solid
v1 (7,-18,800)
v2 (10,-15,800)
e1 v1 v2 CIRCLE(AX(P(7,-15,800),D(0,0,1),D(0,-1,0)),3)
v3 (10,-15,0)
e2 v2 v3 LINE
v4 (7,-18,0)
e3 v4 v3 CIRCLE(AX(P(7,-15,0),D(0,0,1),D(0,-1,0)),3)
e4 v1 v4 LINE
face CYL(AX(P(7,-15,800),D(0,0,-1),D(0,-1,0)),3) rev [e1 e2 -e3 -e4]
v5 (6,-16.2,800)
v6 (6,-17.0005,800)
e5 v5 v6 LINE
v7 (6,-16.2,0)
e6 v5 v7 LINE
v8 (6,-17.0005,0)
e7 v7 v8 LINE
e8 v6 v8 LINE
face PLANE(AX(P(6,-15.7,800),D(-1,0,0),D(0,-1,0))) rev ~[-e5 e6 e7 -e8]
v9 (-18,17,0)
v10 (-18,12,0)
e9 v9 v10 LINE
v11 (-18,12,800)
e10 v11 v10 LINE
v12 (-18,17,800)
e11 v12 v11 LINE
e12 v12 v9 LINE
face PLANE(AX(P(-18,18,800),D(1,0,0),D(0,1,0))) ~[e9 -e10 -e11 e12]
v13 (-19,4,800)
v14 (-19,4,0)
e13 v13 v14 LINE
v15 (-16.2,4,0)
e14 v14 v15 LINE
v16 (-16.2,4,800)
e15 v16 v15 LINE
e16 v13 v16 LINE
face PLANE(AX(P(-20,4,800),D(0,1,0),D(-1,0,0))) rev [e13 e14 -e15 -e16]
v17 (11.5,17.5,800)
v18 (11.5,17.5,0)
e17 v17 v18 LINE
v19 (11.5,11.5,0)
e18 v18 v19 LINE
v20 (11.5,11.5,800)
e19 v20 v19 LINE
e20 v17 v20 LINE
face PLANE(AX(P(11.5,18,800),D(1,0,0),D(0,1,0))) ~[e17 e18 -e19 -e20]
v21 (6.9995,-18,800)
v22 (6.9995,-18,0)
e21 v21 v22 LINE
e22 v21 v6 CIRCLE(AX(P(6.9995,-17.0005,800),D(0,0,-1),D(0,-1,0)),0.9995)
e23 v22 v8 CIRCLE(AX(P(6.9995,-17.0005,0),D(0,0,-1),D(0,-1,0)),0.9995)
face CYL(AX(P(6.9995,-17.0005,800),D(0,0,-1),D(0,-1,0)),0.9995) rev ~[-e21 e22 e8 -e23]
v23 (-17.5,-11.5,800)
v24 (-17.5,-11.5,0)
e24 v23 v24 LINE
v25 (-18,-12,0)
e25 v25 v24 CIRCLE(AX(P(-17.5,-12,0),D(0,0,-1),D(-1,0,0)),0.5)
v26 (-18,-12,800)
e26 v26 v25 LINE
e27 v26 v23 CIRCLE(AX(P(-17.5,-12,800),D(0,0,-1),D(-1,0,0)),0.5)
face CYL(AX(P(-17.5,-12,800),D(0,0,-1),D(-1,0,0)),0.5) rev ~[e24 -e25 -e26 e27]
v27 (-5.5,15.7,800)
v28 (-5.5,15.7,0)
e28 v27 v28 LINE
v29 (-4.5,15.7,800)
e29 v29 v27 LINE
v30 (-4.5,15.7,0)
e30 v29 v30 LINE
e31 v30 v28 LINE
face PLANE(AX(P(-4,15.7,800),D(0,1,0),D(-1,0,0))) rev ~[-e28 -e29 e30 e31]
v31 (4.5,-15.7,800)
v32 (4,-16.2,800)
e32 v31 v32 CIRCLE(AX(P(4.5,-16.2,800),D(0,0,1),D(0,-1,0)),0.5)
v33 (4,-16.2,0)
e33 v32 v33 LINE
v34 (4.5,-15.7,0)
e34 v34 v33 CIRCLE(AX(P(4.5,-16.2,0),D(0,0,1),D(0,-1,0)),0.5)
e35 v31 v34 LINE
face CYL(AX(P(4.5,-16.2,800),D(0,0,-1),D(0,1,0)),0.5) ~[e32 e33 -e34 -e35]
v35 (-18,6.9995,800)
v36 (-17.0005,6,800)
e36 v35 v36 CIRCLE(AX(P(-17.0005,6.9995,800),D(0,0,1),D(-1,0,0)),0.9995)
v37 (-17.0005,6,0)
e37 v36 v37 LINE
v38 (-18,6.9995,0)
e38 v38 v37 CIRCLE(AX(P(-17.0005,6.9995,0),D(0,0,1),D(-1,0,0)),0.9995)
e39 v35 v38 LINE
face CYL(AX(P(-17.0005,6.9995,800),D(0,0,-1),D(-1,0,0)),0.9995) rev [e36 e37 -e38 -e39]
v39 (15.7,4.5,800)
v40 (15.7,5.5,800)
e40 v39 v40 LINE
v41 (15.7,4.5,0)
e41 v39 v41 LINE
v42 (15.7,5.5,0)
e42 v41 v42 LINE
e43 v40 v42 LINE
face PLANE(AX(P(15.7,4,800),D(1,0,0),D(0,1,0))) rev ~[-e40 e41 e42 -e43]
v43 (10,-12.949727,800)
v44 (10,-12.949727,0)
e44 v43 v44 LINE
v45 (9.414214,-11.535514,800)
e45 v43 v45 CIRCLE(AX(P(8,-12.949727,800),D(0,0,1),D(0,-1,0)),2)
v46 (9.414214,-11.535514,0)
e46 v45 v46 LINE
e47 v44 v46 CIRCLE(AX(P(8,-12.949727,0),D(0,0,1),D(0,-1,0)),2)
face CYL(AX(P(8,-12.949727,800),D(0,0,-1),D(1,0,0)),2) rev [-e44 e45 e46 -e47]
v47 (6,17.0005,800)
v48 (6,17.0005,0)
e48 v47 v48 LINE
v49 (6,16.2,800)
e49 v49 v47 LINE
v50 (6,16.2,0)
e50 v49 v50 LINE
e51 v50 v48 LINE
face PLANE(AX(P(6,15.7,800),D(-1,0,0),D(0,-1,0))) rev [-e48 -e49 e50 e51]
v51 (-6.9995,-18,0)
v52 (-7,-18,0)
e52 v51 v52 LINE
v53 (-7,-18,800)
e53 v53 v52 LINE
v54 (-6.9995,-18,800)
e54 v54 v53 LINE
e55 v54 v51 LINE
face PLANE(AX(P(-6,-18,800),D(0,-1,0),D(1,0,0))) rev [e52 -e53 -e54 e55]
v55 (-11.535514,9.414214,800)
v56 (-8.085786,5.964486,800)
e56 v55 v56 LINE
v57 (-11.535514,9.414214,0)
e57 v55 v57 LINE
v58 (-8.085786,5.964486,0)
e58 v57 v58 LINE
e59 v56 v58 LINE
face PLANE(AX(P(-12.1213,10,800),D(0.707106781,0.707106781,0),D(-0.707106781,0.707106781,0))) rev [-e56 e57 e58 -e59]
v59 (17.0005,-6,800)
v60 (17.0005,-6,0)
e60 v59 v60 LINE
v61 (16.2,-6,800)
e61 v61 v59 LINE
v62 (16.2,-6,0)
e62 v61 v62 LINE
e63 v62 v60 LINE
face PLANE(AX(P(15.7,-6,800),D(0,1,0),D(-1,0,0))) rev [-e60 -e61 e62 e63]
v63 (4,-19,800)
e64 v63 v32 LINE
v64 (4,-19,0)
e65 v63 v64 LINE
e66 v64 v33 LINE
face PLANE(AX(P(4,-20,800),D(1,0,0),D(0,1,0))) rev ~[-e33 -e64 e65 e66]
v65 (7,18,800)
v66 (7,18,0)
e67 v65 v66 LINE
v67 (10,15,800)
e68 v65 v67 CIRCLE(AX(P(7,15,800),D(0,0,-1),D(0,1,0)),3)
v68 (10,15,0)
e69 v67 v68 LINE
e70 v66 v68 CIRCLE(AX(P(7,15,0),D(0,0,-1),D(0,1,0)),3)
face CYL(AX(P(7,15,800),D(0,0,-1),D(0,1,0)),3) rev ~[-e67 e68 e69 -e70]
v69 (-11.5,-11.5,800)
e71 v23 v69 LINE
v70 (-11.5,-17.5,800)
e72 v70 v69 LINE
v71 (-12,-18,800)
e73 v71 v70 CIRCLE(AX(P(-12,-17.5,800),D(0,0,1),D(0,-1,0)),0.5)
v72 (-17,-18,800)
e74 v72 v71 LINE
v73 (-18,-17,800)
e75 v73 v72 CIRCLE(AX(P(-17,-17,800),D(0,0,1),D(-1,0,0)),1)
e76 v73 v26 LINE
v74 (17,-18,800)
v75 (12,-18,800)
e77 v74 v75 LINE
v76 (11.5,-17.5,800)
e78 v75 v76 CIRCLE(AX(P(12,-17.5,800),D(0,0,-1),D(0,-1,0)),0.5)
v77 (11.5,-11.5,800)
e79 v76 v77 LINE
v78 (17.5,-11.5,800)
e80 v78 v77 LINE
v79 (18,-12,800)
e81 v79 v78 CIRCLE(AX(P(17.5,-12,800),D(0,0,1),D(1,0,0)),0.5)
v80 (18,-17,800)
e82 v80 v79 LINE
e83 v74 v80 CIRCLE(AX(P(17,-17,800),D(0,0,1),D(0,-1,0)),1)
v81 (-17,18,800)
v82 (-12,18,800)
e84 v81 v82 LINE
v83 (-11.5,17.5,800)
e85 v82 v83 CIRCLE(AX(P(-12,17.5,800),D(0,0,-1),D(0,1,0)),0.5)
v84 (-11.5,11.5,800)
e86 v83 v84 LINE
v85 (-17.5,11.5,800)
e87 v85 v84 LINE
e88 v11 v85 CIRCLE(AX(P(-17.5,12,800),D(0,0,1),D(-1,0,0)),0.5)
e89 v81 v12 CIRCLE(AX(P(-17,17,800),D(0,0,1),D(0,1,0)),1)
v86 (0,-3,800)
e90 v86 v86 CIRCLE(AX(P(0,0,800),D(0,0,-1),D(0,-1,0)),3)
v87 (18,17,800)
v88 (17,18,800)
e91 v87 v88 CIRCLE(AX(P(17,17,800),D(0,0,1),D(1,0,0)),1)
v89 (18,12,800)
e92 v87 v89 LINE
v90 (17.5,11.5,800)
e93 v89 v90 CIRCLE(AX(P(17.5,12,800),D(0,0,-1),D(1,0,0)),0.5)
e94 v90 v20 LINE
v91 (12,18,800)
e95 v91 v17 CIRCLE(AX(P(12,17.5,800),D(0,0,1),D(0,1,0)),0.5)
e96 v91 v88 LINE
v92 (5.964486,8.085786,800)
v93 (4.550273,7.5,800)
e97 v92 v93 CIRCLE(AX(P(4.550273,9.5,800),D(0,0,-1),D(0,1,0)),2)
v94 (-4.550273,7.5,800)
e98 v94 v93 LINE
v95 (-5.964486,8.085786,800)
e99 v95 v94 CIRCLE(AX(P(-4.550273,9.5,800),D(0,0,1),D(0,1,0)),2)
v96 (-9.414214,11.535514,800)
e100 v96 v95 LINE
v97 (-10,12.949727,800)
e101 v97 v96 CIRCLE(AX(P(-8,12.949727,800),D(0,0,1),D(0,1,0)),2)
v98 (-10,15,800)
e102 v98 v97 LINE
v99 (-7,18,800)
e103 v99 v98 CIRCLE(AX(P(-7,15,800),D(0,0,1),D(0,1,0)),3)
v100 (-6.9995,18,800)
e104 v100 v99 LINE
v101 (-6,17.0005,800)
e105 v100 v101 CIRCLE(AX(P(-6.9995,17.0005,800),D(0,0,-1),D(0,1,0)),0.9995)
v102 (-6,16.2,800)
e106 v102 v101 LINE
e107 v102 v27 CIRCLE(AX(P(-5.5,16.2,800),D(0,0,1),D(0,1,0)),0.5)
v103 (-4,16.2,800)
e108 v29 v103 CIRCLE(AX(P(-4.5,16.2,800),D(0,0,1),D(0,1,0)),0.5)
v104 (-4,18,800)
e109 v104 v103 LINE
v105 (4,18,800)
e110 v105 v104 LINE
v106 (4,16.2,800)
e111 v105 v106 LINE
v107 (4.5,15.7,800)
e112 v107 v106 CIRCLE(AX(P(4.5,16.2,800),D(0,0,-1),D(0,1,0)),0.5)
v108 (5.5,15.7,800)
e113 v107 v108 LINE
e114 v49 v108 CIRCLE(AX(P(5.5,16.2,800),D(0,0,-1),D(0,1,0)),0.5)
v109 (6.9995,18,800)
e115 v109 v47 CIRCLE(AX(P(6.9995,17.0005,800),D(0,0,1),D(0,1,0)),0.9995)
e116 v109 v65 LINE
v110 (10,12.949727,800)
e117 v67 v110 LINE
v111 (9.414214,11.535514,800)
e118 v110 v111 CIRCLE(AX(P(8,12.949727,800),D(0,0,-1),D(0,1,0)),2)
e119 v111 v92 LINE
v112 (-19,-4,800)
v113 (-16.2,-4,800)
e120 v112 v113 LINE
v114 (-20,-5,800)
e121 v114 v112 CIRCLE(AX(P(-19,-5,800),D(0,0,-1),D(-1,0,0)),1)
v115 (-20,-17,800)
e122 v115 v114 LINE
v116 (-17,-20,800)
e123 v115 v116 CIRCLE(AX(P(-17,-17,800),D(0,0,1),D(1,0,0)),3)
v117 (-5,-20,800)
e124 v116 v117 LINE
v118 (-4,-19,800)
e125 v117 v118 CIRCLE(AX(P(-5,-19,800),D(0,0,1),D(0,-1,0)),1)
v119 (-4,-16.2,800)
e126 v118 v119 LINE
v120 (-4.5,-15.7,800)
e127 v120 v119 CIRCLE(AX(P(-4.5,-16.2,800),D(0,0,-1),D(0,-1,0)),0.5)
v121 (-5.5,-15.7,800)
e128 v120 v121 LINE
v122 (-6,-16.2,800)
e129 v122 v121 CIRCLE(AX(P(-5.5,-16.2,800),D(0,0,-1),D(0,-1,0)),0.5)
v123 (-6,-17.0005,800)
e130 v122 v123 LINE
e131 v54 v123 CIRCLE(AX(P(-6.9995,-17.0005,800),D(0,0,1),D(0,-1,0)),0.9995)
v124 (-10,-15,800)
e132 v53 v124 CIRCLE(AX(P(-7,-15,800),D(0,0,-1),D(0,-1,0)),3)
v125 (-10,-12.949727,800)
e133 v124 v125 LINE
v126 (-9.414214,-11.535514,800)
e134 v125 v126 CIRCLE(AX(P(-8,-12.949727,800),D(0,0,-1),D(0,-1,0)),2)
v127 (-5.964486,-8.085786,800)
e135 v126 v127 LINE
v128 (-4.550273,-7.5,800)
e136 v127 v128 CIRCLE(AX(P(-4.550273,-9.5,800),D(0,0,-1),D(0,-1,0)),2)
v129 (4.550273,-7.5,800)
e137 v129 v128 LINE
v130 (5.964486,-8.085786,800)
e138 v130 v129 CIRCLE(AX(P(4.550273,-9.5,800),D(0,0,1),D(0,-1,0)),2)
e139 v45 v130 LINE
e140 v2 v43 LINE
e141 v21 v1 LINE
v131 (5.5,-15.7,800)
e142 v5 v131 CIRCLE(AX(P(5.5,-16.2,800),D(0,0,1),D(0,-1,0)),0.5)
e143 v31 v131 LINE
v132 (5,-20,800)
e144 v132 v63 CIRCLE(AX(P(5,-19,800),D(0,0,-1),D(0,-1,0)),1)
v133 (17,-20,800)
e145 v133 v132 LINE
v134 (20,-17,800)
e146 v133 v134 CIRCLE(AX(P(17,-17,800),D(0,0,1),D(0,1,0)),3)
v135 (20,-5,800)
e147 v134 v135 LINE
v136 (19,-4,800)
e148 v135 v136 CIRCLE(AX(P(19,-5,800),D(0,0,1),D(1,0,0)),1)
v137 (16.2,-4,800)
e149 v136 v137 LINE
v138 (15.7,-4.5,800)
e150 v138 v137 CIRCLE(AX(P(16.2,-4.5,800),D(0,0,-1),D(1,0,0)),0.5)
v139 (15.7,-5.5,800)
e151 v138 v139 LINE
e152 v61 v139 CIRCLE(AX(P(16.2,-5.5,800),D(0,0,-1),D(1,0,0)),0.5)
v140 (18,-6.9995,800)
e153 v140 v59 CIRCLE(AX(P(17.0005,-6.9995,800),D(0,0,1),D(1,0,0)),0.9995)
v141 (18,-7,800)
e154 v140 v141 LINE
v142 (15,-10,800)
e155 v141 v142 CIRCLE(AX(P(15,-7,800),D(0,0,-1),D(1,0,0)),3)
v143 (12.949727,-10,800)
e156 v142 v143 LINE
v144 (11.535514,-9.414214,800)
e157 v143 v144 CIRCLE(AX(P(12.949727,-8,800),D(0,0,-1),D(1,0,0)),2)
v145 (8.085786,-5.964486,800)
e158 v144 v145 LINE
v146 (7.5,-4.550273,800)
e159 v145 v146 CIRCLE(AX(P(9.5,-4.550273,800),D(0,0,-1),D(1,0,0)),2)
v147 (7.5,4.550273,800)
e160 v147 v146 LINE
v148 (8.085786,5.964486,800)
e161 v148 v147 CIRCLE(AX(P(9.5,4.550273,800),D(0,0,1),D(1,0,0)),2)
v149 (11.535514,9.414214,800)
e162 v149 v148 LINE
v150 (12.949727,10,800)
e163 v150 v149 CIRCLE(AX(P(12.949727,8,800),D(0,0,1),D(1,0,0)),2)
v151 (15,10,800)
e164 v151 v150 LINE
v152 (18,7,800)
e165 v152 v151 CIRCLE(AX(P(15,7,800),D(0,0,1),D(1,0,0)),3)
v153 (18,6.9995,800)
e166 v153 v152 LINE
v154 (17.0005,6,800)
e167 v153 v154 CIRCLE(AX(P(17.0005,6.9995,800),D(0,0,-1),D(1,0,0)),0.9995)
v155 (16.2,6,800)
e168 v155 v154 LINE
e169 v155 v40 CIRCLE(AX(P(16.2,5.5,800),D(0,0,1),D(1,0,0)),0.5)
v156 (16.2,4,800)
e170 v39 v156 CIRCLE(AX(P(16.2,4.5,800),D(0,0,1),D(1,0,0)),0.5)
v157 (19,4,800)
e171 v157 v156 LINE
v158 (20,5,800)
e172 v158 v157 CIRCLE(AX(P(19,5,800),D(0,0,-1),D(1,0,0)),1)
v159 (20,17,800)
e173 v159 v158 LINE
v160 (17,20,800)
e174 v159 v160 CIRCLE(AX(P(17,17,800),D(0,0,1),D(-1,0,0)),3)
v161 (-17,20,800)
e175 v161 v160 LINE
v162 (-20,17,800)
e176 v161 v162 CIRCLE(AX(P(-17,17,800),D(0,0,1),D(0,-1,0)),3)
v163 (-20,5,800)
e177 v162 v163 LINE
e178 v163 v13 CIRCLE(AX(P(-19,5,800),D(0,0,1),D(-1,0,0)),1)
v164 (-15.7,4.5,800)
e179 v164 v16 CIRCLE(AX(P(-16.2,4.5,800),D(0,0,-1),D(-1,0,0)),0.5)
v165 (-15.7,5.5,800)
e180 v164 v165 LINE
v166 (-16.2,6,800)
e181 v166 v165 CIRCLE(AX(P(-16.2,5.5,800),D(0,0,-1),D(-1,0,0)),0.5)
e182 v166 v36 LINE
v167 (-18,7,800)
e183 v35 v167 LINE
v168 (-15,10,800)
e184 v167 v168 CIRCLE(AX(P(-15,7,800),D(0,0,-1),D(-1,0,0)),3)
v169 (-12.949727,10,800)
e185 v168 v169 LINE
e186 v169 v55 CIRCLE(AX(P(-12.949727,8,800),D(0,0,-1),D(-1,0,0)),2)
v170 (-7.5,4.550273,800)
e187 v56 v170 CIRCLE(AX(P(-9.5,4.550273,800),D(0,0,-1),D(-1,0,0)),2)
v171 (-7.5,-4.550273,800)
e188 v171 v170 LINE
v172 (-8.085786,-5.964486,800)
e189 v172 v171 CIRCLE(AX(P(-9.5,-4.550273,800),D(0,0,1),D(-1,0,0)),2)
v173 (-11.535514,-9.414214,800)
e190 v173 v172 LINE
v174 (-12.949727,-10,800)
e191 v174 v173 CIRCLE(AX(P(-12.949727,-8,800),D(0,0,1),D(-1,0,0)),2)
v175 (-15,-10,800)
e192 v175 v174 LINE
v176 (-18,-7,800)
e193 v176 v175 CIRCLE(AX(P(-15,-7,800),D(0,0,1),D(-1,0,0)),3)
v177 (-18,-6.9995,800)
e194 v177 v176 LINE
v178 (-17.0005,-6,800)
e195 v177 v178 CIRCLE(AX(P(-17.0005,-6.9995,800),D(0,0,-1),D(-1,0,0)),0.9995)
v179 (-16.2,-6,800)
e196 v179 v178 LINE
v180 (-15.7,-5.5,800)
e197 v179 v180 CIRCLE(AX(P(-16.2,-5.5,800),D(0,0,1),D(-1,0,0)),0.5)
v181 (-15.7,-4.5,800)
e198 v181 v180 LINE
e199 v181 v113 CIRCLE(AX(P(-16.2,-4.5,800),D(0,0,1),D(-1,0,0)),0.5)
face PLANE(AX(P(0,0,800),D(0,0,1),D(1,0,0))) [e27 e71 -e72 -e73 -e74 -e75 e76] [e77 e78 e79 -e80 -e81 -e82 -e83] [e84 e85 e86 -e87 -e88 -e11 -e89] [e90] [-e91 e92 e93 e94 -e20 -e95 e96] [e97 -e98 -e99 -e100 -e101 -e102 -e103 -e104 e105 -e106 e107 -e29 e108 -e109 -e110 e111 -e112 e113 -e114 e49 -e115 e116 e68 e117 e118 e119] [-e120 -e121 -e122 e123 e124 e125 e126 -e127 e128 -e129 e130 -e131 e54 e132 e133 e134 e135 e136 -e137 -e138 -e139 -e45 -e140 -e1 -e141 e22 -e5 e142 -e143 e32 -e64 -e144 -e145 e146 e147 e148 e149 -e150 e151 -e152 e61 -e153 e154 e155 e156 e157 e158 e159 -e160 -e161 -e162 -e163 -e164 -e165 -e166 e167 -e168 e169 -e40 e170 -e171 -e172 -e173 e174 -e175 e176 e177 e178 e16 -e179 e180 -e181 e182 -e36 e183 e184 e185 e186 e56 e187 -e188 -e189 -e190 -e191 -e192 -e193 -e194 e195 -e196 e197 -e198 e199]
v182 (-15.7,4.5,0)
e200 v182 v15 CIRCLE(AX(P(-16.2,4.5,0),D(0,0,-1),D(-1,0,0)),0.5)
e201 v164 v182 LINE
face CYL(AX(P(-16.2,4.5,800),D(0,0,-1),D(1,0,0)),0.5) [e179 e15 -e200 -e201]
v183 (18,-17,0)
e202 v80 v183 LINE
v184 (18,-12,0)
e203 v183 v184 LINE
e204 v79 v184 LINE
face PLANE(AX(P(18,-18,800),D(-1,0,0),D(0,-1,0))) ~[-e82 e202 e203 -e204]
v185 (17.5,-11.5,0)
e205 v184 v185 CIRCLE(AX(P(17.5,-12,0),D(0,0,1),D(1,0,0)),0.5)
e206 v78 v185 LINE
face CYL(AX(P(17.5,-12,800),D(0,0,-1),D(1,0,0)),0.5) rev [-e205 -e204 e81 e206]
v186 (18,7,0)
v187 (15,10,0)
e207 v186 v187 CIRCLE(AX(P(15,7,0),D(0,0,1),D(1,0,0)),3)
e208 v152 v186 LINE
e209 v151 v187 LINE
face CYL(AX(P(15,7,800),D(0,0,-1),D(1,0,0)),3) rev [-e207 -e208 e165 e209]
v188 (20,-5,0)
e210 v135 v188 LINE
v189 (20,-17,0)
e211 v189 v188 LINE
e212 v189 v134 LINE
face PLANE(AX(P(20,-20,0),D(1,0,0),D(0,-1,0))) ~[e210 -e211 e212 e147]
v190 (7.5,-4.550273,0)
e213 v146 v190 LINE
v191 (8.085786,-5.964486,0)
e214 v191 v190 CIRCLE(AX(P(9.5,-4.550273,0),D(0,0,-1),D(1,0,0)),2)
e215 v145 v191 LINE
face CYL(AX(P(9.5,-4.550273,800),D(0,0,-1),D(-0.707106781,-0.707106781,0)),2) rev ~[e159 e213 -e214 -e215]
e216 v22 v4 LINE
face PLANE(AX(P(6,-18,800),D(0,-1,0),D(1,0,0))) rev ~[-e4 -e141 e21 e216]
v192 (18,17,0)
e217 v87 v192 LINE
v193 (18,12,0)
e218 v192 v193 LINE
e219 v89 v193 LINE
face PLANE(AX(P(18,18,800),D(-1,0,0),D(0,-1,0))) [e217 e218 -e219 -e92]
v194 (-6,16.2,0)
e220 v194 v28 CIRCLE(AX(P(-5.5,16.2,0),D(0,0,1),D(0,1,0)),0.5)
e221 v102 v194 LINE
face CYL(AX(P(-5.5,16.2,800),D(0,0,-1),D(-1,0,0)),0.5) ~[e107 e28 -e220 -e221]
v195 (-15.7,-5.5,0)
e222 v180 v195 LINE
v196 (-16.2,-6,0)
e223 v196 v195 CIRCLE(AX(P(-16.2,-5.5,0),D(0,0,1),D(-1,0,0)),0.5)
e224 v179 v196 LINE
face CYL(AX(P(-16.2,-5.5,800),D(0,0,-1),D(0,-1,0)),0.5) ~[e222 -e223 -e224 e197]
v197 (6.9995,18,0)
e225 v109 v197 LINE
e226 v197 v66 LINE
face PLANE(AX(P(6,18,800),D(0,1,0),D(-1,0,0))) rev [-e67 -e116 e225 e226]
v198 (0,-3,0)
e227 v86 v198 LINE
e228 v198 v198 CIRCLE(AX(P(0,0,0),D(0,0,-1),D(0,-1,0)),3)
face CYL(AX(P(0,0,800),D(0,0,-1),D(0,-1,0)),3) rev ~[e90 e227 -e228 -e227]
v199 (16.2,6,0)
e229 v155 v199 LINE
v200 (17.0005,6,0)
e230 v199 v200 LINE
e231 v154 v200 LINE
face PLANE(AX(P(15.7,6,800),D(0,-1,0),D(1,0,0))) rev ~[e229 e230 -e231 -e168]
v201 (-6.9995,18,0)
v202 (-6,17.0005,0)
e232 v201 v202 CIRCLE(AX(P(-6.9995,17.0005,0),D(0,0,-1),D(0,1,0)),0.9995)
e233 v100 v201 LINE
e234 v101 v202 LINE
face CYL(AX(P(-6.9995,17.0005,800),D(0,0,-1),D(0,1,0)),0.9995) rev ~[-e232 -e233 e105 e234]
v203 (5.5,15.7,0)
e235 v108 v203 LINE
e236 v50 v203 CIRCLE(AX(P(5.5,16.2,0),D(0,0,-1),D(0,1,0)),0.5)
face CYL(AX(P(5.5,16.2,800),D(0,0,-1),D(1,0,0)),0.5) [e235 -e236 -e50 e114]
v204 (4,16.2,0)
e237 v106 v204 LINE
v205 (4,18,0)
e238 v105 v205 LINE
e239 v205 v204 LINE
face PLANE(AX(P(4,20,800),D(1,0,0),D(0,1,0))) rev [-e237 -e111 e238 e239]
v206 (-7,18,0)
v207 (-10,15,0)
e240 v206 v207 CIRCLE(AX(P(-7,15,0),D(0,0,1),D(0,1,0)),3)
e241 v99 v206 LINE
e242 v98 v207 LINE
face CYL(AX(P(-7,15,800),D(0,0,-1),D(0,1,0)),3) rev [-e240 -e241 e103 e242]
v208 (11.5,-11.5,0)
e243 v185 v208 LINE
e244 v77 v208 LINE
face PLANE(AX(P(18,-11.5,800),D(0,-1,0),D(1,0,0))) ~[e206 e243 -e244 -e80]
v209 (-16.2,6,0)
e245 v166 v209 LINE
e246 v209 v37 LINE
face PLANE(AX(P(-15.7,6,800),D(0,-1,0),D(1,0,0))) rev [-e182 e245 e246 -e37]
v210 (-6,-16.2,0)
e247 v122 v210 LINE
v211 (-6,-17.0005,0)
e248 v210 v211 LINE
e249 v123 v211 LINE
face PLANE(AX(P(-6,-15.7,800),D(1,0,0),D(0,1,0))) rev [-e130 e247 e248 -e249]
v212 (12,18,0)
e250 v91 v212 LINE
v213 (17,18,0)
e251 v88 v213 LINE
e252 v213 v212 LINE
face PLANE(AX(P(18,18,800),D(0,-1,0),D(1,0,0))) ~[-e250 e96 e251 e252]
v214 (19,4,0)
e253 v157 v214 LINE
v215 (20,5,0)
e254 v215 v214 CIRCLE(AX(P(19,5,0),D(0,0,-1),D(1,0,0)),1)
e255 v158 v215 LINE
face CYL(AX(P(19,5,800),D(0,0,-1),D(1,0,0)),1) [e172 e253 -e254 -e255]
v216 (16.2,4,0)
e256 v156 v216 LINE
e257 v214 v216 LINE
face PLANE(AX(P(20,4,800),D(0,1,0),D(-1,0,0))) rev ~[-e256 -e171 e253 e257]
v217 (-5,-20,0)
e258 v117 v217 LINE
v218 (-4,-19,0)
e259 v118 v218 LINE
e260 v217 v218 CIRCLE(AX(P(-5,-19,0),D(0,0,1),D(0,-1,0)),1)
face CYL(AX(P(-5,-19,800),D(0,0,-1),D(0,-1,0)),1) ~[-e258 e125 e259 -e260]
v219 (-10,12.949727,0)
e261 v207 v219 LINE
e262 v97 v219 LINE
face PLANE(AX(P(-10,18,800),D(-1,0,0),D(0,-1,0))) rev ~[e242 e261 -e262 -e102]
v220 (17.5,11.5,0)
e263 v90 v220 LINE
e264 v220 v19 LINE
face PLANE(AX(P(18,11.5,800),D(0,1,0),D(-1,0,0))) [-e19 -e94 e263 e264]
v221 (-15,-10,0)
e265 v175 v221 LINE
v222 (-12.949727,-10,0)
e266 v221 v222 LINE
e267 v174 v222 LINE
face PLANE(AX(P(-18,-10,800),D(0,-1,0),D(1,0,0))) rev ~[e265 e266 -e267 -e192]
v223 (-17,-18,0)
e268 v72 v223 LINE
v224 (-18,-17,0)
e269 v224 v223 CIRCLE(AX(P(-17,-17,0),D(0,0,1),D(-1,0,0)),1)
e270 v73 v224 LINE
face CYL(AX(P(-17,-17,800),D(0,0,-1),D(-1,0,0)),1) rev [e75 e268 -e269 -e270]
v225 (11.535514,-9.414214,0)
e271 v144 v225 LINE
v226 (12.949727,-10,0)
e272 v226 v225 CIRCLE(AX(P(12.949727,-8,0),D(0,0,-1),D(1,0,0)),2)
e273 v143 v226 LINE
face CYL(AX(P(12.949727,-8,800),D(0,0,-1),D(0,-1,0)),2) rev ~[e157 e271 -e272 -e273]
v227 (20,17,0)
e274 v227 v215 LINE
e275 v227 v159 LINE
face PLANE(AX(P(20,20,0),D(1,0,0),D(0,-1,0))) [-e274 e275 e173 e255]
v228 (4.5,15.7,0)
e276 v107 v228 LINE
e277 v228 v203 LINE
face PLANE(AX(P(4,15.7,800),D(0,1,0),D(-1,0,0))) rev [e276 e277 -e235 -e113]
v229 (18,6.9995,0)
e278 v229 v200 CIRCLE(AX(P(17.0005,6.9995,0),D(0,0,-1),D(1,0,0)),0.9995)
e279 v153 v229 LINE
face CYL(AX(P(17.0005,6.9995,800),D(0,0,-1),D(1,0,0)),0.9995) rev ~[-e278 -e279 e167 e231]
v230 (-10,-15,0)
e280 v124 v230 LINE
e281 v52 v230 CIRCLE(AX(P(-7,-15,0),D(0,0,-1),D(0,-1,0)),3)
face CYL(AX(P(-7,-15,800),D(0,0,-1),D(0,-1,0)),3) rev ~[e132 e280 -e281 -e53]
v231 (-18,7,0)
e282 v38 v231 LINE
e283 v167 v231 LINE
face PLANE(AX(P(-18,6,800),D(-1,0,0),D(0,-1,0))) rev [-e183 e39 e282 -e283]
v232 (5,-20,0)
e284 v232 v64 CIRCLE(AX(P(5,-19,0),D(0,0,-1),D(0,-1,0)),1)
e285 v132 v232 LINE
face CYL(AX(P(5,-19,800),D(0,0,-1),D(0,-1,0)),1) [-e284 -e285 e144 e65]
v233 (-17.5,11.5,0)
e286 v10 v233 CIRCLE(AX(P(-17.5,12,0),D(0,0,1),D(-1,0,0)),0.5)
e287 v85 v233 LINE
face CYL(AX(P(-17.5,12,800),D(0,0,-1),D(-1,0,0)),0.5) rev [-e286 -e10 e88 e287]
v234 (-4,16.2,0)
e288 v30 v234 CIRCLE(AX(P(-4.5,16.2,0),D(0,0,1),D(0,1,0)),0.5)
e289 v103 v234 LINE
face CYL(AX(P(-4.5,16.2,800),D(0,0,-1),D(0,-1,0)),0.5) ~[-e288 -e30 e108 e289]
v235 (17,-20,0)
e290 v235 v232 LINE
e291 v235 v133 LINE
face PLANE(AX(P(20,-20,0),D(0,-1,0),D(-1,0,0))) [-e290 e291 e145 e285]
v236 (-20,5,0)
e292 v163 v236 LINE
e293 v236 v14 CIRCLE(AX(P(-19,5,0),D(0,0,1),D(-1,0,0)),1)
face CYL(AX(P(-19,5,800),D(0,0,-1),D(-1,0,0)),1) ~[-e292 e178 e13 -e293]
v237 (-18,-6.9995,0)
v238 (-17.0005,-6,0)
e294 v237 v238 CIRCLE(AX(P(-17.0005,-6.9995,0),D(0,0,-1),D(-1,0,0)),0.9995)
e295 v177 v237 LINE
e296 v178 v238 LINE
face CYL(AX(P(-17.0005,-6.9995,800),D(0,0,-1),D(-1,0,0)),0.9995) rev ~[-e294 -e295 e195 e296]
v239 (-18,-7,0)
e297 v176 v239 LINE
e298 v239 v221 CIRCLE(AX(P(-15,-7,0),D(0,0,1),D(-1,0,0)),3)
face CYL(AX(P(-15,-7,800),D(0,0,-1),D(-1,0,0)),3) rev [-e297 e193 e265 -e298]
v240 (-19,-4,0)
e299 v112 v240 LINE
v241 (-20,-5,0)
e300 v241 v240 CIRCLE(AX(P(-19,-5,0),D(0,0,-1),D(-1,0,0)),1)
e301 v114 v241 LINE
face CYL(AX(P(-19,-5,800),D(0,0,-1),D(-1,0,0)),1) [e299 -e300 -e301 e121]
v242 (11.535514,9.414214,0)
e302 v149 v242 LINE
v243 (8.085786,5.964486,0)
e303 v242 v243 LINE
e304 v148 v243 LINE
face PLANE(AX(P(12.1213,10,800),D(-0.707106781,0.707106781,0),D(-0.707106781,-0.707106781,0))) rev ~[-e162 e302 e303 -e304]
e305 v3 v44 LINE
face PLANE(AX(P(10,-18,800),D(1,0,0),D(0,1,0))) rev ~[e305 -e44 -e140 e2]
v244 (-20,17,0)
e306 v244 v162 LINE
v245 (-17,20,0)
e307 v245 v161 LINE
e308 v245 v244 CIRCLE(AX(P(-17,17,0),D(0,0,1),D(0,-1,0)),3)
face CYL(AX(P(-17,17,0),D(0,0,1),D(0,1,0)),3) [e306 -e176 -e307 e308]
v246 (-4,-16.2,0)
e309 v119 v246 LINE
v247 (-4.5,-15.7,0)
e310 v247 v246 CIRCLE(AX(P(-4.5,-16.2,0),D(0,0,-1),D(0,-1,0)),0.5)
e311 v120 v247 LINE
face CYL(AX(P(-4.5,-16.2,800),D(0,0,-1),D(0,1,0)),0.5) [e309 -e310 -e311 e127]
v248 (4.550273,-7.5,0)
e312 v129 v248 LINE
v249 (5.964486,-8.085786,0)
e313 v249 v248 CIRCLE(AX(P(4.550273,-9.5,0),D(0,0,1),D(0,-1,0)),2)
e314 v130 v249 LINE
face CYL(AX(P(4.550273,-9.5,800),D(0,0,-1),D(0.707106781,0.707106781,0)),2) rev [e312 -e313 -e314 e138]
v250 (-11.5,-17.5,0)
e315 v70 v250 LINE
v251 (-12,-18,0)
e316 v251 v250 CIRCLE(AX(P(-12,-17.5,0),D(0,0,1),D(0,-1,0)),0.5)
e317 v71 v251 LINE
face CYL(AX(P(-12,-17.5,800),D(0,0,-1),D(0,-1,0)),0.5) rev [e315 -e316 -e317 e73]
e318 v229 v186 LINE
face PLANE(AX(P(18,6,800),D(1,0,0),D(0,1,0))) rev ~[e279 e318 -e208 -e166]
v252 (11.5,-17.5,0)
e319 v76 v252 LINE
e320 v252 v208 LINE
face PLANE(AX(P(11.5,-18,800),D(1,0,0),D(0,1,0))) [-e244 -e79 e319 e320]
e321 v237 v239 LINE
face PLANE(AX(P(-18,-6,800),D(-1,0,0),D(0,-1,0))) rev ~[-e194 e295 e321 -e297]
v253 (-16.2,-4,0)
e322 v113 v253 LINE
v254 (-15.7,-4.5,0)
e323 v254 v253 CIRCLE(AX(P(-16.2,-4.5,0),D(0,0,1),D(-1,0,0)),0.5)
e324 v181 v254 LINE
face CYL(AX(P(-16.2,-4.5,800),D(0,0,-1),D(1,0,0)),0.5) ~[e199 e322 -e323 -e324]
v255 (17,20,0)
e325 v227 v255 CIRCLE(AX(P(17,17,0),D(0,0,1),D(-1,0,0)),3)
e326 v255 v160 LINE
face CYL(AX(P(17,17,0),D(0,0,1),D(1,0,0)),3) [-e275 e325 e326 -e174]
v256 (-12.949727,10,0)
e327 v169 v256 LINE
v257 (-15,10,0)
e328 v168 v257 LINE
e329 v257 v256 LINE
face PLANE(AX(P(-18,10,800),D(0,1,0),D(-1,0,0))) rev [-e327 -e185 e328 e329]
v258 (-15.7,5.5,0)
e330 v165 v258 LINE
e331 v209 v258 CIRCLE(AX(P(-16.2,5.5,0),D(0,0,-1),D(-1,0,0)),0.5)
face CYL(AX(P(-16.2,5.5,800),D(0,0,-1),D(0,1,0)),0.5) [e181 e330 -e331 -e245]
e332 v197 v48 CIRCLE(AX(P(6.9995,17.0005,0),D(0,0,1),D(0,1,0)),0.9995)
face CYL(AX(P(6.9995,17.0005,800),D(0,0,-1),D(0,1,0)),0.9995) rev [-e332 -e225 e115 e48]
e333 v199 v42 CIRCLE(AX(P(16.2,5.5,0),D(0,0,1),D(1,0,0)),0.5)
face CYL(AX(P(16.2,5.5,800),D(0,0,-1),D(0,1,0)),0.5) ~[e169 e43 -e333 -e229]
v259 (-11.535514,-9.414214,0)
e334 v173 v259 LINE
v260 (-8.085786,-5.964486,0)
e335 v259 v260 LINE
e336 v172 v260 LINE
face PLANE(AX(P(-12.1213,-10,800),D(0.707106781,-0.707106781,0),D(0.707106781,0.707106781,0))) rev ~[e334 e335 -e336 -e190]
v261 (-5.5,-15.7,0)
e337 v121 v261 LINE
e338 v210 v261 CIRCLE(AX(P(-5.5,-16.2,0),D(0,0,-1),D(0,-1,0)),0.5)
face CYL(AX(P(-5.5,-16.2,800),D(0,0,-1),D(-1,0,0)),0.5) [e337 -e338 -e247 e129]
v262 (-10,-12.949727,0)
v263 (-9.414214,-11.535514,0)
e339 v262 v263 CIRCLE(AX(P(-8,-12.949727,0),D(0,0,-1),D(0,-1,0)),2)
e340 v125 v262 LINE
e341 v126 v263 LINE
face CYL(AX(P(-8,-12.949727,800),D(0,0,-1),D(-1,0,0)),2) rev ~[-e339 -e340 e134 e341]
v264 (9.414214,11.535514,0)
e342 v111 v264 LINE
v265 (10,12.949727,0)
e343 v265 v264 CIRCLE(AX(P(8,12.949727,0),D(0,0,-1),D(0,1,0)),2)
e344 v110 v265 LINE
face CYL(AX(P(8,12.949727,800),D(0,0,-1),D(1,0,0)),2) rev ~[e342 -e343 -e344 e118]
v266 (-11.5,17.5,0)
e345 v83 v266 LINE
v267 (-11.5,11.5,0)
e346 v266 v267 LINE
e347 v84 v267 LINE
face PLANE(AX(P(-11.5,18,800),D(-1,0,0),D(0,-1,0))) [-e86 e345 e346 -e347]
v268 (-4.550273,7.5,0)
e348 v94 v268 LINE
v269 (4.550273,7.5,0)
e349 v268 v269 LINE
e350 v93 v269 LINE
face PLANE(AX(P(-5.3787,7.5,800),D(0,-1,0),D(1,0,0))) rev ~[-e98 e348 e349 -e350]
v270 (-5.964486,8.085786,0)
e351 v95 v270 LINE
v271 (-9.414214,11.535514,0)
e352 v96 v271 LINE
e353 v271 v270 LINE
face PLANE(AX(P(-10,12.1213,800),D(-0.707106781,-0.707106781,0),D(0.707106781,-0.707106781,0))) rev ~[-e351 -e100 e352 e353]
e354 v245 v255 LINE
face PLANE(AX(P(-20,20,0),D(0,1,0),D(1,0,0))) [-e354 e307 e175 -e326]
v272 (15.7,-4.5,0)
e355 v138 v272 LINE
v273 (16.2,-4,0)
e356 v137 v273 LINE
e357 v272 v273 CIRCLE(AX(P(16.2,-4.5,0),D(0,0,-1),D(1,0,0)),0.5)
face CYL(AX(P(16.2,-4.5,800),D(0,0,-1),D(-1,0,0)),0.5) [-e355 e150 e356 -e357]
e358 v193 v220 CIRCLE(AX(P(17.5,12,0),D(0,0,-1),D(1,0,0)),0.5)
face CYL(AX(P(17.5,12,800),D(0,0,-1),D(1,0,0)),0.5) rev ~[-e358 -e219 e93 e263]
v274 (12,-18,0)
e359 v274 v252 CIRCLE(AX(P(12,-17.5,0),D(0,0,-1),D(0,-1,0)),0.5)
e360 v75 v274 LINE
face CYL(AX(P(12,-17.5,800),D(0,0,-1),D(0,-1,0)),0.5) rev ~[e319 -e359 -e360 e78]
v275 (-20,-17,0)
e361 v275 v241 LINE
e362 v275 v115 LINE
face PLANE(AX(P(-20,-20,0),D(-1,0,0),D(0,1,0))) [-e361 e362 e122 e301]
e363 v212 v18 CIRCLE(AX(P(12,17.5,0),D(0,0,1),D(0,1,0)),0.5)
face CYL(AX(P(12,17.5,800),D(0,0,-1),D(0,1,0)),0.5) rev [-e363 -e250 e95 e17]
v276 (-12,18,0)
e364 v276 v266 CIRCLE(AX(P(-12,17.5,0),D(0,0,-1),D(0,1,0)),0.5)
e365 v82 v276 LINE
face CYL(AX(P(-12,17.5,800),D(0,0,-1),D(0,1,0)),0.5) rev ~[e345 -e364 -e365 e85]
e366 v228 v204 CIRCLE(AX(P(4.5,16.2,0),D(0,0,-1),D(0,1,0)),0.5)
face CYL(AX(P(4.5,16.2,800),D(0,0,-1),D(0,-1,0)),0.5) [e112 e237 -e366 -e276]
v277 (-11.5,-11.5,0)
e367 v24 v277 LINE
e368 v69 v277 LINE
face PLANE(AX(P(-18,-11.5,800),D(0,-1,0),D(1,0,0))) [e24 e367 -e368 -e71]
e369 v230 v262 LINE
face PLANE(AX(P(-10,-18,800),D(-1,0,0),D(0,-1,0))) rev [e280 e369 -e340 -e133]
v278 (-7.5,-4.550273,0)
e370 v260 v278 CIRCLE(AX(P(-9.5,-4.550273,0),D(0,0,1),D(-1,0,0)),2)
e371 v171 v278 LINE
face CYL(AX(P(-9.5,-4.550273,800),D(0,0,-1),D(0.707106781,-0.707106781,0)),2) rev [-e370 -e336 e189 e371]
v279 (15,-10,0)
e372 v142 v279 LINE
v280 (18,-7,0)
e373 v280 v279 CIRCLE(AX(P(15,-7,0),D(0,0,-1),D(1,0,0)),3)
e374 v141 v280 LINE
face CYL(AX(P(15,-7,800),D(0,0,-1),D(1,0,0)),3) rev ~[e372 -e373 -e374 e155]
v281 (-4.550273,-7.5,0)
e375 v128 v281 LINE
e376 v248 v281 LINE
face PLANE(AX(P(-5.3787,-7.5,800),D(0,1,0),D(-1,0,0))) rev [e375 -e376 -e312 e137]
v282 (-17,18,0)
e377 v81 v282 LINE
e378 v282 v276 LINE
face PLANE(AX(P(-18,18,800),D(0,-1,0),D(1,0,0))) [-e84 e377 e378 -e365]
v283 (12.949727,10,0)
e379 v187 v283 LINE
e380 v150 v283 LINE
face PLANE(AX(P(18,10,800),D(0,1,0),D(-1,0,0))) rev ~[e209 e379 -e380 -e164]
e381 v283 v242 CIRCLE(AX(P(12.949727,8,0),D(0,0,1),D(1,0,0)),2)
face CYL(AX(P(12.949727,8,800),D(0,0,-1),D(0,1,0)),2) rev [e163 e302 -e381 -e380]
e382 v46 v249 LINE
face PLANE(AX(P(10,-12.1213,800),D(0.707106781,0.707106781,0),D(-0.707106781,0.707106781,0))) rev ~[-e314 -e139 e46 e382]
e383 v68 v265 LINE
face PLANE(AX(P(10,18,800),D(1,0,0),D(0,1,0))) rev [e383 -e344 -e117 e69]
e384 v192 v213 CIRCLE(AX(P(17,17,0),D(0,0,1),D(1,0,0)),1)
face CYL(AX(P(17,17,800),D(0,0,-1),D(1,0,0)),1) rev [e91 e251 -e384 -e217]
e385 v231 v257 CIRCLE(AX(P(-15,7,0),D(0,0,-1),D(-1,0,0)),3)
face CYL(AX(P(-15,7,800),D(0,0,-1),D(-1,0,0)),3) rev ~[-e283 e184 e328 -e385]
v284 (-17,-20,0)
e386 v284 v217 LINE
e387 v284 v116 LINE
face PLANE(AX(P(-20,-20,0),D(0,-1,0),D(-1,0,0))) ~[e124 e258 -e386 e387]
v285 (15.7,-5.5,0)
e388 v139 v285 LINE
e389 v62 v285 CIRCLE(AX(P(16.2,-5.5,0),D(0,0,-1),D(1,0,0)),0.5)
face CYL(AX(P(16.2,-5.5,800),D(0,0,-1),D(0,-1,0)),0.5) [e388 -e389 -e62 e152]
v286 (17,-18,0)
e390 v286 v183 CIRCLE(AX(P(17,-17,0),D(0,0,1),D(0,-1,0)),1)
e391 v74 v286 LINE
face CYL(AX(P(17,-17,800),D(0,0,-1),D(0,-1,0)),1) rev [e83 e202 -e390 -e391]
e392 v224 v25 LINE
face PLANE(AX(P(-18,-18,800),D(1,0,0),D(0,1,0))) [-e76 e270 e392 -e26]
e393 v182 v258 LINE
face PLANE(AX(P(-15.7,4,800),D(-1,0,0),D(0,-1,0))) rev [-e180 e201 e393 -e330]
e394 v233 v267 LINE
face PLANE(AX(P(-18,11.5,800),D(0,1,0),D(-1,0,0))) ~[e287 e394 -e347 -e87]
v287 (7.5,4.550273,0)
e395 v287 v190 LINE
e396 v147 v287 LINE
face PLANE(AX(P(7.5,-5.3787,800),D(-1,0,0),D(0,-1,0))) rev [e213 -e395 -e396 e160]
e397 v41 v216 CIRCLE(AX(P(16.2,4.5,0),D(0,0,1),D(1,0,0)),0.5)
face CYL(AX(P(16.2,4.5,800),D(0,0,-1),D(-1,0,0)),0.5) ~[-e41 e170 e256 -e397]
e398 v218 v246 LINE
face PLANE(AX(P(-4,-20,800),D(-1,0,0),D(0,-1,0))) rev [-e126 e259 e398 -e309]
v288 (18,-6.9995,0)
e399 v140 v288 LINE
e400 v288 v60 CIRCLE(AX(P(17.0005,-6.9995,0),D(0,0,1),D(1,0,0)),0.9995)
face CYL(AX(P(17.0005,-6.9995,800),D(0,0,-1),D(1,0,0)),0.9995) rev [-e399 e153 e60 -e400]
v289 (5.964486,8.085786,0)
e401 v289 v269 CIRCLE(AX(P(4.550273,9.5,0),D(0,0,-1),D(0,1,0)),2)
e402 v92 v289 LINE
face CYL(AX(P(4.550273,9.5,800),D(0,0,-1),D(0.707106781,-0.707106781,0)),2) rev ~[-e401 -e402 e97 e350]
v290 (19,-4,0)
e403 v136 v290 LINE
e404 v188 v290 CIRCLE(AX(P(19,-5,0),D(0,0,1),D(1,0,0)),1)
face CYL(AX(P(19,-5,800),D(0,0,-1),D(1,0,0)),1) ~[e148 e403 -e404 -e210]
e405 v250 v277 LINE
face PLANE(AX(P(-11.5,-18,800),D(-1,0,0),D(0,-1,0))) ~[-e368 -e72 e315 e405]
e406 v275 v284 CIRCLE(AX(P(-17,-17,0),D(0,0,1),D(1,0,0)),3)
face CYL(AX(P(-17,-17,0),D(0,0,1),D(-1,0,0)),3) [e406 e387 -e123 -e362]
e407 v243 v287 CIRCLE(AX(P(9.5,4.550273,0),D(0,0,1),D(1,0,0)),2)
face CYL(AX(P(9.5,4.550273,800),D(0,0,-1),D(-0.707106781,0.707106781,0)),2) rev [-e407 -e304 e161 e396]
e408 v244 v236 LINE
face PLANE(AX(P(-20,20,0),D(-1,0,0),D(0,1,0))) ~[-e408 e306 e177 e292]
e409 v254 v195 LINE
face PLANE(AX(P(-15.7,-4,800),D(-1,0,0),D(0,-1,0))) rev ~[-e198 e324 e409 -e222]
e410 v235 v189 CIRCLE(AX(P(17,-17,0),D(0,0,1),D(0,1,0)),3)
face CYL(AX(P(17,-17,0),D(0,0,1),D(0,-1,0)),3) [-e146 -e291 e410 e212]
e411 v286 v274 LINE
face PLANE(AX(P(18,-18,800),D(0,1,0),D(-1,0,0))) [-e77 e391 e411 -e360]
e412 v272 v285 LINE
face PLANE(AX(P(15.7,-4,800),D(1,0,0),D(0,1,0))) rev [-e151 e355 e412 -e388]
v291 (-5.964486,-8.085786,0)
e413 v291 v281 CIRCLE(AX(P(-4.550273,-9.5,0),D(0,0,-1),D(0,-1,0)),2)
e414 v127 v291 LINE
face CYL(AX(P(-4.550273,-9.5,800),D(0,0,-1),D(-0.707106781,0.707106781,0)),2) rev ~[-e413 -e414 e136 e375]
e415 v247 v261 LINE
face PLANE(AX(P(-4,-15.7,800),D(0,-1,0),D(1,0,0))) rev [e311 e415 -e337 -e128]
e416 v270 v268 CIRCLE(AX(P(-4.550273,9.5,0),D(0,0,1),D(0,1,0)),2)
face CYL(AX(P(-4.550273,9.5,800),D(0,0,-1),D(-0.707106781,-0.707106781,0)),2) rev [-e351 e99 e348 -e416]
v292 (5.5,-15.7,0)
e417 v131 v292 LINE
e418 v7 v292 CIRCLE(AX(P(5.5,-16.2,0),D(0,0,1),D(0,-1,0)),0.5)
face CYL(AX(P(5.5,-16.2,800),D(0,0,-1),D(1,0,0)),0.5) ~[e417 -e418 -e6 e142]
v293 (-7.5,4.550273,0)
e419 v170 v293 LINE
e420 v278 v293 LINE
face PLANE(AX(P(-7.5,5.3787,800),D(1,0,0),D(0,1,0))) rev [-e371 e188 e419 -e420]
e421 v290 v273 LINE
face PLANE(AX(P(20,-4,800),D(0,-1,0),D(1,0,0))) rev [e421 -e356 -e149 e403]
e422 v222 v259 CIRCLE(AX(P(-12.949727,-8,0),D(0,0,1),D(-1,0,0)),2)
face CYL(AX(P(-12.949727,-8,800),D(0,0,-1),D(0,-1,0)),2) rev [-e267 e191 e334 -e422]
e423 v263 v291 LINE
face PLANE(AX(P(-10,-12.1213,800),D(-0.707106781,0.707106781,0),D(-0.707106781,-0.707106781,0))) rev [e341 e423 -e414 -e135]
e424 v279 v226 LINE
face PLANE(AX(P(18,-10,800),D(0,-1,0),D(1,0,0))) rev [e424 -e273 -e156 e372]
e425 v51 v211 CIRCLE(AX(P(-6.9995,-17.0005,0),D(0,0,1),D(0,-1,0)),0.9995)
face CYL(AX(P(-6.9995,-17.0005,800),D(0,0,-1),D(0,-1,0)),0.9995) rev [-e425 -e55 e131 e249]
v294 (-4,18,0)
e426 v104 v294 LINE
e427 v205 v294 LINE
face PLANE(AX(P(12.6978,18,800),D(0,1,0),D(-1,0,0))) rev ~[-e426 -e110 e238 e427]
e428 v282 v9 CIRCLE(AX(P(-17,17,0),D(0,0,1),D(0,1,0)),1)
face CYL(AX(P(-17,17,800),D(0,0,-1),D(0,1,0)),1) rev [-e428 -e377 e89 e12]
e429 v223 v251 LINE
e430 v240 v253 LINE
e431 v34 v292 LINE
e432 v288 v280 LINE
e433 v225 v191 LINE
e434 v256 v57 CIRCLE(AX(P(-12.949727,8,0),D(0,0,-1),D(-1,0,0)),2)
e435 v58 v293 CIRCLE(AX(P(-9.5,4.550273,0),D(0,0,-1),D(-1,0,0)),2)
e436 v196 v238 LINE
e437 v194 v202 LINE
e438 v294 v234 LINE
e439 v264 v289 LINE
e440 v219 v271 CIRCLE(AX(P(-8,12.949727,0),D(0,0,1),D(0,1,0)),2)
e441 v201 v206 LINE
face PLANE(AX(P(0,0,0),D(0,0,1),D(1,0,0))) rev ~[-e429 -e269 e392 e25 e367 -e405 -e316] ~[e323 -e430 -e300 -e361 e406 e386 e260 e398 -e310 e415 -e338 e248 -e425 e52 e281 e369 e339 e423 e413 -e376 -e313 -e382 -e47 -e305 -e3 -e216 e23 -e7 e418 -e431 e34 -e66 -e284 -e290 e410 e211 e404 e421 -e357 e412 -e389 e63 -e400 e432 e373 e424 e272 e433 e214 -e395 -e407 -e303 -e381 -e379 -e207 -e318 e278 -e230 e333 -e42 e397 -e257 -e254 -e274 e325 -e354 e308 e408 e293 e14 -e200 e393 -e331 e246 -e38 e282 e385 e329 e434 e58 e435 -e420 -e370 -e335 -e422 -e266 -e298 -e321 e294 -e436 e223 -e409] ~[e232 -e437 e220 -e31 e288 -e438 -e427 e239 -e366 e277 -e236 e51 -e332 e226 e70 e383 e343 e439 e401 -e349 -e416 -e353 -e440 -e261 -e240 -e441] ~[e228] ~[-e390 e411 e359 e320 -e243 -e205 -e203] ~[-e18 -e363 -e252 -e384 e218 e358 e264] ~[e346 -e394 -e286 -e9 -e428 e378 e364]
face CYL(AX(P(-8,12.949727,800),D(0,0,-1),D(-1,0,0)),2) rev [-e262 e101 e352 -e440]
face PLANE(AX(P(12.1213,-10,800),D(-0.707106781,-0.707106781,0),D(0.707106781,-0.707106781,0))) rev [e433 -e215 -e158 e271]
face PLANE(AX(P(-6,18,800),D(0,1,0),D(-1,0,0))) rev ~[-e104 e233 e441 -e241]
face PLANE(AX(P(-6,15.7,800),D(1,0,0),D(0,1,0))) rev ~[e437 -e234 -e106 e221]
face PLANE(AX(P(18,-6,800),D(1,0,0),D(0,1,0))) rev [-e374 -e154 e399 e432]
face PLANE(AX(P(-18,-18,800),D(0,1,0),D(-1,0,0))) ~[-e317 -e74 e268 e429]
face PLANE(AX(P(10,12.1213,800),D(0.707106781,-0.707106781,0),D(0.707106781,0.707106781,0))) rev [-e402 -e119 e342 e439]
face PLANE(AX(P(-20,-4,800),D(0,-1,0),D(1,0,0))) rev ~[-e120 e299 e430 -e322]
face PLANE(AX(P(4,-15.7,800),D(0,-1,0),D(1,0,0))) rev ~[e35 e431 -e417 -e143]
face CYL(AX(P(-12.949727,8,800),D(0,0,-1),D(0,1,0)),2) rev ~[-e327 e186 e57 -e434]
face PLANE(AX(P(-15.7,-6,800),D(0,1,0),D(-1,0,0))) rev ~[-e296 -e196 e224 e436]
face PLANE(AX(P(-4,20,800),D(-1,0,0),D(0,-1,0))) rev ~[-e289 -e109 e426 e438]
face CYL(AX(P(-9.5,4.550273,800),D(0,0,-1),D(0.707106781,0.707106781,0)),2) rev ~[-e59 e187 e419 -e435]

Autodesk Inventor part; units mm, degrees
ref_plane "YZ Plane" through (0, 0, 0) normal (1, 0, 0) x (0, 1, 0)
ref_plane "XZ Plane" through (0, 0, 0) normal (0, 1, 0) x (-1, 0, 0)
ref_plane "XY Plane" through (0, 0, 0) normal (0, 0, 1) x (1, 0, 0)
sketch "Sketch1" plane through (0, 0, 0) normal (0, 0, 1) x (1, 0, 0)
  line L0 (-24, 0) -> (4, 0) construction
  line L1 (0, -4) -> (0, 24) construction
  line L2 (0, 0) -> (-20, 20)
  line L3 (-20, 20) -> (0, 20)
  line L4 (0, 20) -> (0, 0)
  dimension "d0" = 20
  dimension "d1" = 45
extrude "Corps" add sketch "Sketch1" along normal blind 800
sketch "Sketch2" plane through (0, 0, 800) normal (0, 0, 1) x (1, 0, 0)
  line L0 (-20, 20) -> (0, 20) construction
  line L1 (0, 20) -> (0, 0) construction
  line L2 (0, 0) -> (-20, 20) construction
  line L3 (-10, 12.1213) -> (-5.3787, 7.5)
  line L4 (-5.3787, 7.5) -> (0, 7.5)
  line L5 (0, 7.5) -> (0, 20)
  line L6 (0, 20) -> (-4, 20)
  line L7 (-4, 20) -> (-4, 15.7)
  line L8 (-4, 15.7) -> (-6, 15.7)
  line L9 (-6, 15.7) -> (-6, 18)
  line L10 (-6, 18) -> (-10, 18)
  line L11 (-10, 18) -> (-10, 12.1213)
  line L12 (-18, 18) -> (-11.5, 18)
  line L13 (-11.5, 18) -> (-11.5, 11.5)
  line L14 (-11.5, 11.5) -> (-18, 18)
  dimension "d4" = 1.5
  dimension "d5" = 4
  dimension "d6" = 2
  dimension "d7" = 4.3
  dimension "d8" = 2
  dimension "d9" = 10
  dimension "d10" = 6.5
  dimension "d12" = 7.5
extrude "Creux" cut sketch "Sketch2" against normal through all
fillet "Fillet8" radius 1 1 edges at (-4, 20, 400)
fillet "Fillet1" radius 3 1 edges at (-10, 18, 400)
fillet "Fillet2" radius 1 1 edges at (-6, 18, 400)
fillet "Fillet3" radius 2 2 edges at (-10, 12.1213, 400) (-5.3787, 7.5, 400)
fillet "Fillet4" radius 0.5 2 edges at (-4, 15.7, 400) (-6, 15.7, 400)
fillet "Fillet5" radius 0.5 1 edges at (-11.5, 18, 400)
mirror "Mirror1" about plane through (-20, 20, 0) normal (-0.7071, -0.7071, 0)
fillet "Fillet6" radius 3 1 edges at (-20, 20, 400)
fillet "Fillet7" radius 1 1 edges at (-18, 18, 400)
pattern_circular "Circular Pattern1" count 4 over 360 about axis through (0, 0, 0) along (0, 0, 1)
sketch "Sketch3" plane through (0, 0, 800) normal (0, 0, 1) x (1, 0, 0)
  point P0 (0, 0)
hole "Hole1" at (0, 0, 800) direction (0, 0, -1) diameter 6 end through all
sketch "Sketch4" plane through (0, 0, 800) normal (0, 0, 1) x (1, 0, 0)
  circle A0 centre (0, 0) radius 3 construction
  arc A1 (12, 18) -> (11.5, 17.5) centre (12, 17.5) ccw construction
  line L0 (11.5, 17.5) -> (11.5, 11.5) construction
  line L1 (11.5, 11.5) -> (17.5, 11.5) construction
  arc A2 (17.5, 11.5) -> (18, 12) centre (17.5, 12) ccw construction
  line L2 (18, 12) -> (18, 17) construction
  arc A3 (18, 17) -> (17, 18) centre (17, 17) ccw construction
  line L3 (17, 18) -> (12, 18) construction
  arc A4 (18, -12) -> (17.5, -11.5) centre (17.5, -12) ccw construction
  line L4 (17.5, -11.5) -> (11.5, -11.5) construction
  line L5 (11.5, -11.5) -> (11.5, -17.5) construction
  arc A5 (11.5, -17.5) -> (12, -18) centre (12, -17.5) ccw construction
  line L6 (12, -18) -> (17, -18) construction
  arc A6 (17, -18) -> (18, -17) centre (17, -17) ccw construction
  line L7 (18, -17) -> (18, -12) construction
  arc A7 (-12, -18) -> (-11.5, -17.5) centre (-12, -17.5) ccw construction
  line L8 (-11.5, -17.5) -> (-11.5, -11.5) construction
  line L9 (-11.5, -11.5) -> (-17.5, -11.5) construction
  arc A8 (-17.5, -11.5) -> (-18, -12) centre (-17.5, -12) ccw construction
  line L10 (-18, -12) -> (-18, -17) construction
  arc A9 (-18, -17) -> (-17, -18) centre (-17, -17) ccw construction
  line L11 (-17, -18) -> (-12, -18) construction
  arc A10 (-18, 12) -> (-17.5, 11.5) centre (-17.5, 12) ccw construction
  line L12 (-17.5, 11.5) -> (-11.5, 11.5) construction
  line L13 (-11.5, 11.5) -> (-11.5, 17.5) construction
  arc A11 (-11.5, 17.5) -> (-12, 18) centre (-12, 17.5) ccw construction
  line L14 (-12, 18) -> (-17, 18) construction
  arc A12 (-17, 18) -> (-18, 17) centre (-17, 17) ccw construction
  line L15 (-18, 17) -> (-18, 12) construction
  arc A13 (-6, 17) -> (-7, 18) centre (-7, 17) ccw construction
  arc A14 (-7, 18) -> (-10, 15) centre (-7, 15) ccw construction
  line L16 (-10, 15) -> (-10, 12.9497) construction
  arc A15 (-10, 12.9497) -> (-9.4142, 11.5355) centre (-8, 12.9497) ccw construction
  line L17 (-9.4142, 11.5355) -> (-5.9645, 8.0858) construction
  arc A16 (-5.9645, 8.0858) -> (-4.5503, 7.5) centre (-4.5503, 9.5) ccw construction
  line L18 (-4.5503, 7.5) -> (4.5503, 7.5) construction
  arc A17 (4.5503, 7.5) -> (5.9645, 8.0858) centre (4.5503, 9.5) ccw construction
  line L19 (5.9645, 8.0858) -> (9.4142, 11.5355) construction
  arc A18 (9.4142, 11.5355) -> (10, 12.9497) centre (8, 12.9497) ccw construction
  line L20 (10, 12.9497) -> (10, 15) construction
  arc A19 (10, 15) -> (7, 18) centre (7, 15) ccw construction
  arc A20 (7, 18) -> (6, 17) centre (7, 17) ccw construction
  line L21 (6, 17) -> (6, 16.2) construction
  arc A21 (5.5, 15.7) -> (6, 16.2) centre (5.5, 16.2) ccw construction
  line L22 (5.5, 15.7) -> (4.5, 15.7) construction
  arc A22 (4, 16.2) -> (4.5, 15.7) centre (4.5, 16.2) ccw construction
  line L23 (4, 16.2) -> (4, 19) construction
  arc A23 (5, 20) -> (4, 19) centre (5, 19) ccw construction
  line L24 (5, 20) -> (17, 20) construction
  arc A24 (20, 17) -> (17, 20) centre (17, 17) ccw construction
  line L25 (20, 17) -> (20, 5) construction
  arc A25 (19, 4) -> (20, 5) centre (19, 5) ccw construction
  line L26 (19, 4) -> (16.2, 4) construction
  arc A26 (15.7, 4.5) -> (16.2, 4) centre (16.2, 4.5) ccw construction
  line L27 (15.7, 4.5) -> (15.7, 5.5) construction
  arc A27 (16.2, 6) -> (15.7, 5.5) centre (16.2, 5.5) ccw construction
  line L28 (16.2, 6) -> (17, 6) construction
  arc A28 (17, 6) -> (18, 7) centre (17, 7) ccw construction
  arc A29 (18, 7) -> (15, 10) centre (15, 7) ccw construction
  line L29 (15, 10) -> (12.9497, 10) construction
  arc A30 (12.9497, 10) -> (11.5355, 9.4142) centre (12.9497, 8) ccw construction
  line L30 (11.5355, 9.4142) -> (8.0858, 5.9645) construction
  arc A31 (8.0858, 5.9645) -> (7.5, 4.5503) centre (9.5, 4.5503) ccw construction
  line L31 (7.5, 4.5503) -> (7.5, -4.5503) construction
  arc A32 (7.5, -4.5503) -> (8.0858, -5.9645) centre (9.5, -4.5503) ccw construction
  line L32 (8.0858, -5.9645) -> (11.5355, -9.4142) construction
  arc A33 (11.5355, -9.4142) -> (12.9497, -10) centre (12.9497, -8) ccw construction
  line L33 (12.9497, -10) -> (15, -10) construction
  arc A34 (15, -10) -> (18, -7) centre (15, -7) ccw construction
  arc A35 (18, -7) -> (17, -6) centre (17, -7) ccw construction
  line L34 (17, -6) -> (16.2, -6) construction
  arc A36 (15.7, -5.5) -> (16.2, -6) centre (16.2, -5.5) ccw construction
  line L35 (15.7, -5.5) -> (15.7, -4.5) construction
  arc A37 (16.2, -4) -> (15.7, -4.5) centre (16.2, -4.5) ccw construction
  line L36 (16.2, -4) -> (19, -4) construction
  arc A38 (20, -5) -> (19, -4) centre (19, -5) ccw construction
  line L37 (20, -5) -> (20, -17) construction
  arc A39 (17, -20) -> (20, -17) centre (17, -17) ccw construction
  line L38 (17, -20) -> (5, -20) construction
  arc A40 (4, -19) -> (5, -20) centre (5, -19) ccw construction
  line L39 (4, -19) -> (4, -16.2) construction
  arc A41 (4.5, -15.7) -> (4, -16.2) centre (4.5, -16.2) ccw construction
  line L40 (4.5, -15.7) -> (5.5, -15.7) construction
  arc A42 (6, -16.2) -> (5.5, -15.7) centre (5.5, -16.2) ccw construction
  line L41 (6, -16.2) -> (6, -17) construction
  arc A43 (6, -17) -> (7, -18) centre (7, -17) ccw construction
  arc A44 (7, -18) -> (10, -15) centre (7, -15) ccw construction
  line L42 (10, -15) -> (10, -12.9497) construction
  arc A45 (10, -12.9497) -> (9.4142, -11.5355) centre (8, -12.9497) ccw construction
  line L43 (9.4142, -11.5355) -> (5.9645, -8.0858) construction
  arc A46 (5.9645, -8.0858) -> (4.5503, -7.5) centre (4.5503, -9.5) ccw construction
  line L44 (4.5503, -7.5) -> (-4.5503, -7.5) construction
  arc A47 (-4.5503, -7.5) -> (-5.9645, -8.0858) centre (-4.5503, -9.5) ccw construction
  line L45 (-5.9645, -8.0858) -> (-9.4142, -11.5355) construction
  arc A48 (-9.4142, -11.5355) -> (-10, -12.9497) centre (-8, -12.9497) ccw construction
  line L46 (-10, -12.9497) -> (-10, -15) construction
  arc A49 (-10, -15) -> (-7, -18) centre (-7, -15) ccw construction
  arc A50 (-7, -18) -> (-6, -17) centre (-7, -17) ccw construction
  line L47 (-6, -17) -> (-6, -16.2) construction
  arc A51 (-5.5, -15.7) -> (-6, -16.2) centre (-5.5, -16.2) ccw construction
  line L48 (-5.5, -15.7) -> (-4.5, -15.7) construction
  arc A52 (-4, -16.2) -> (-4.5, -15.7) centre (-4.5, -16.2) ccw construction
  line L49 (-4, -16.2) -> (-4, -19) construction
  arc A53 (-5, -20) -> (-4, -19) centre (-5, -19) ccw construction
  line L50 (-5, -20) -> (-17, -20) construction
  arc A54 (-20, -17) -> (-17, -20) centre (-17, -17) ccw construction
  line L51 (-20, -17) -> (-20, -5) construction
  arc A55 (-19, -4) -> (-20, -5) centre (-19, -5) ccw construction
  line L52 (-19, -4) -> (-16.2, -4) construction
  arc A56 (-15.7, -4.5) -> (-16.2, -4) centre (-16.2, -4.5) ccw construction
  line L53 (-15.7, -4.5) -> (-15.7, -5.5) construction
  arc A57 (-16.2, -6) -> (-15.7, -5.5) centre (-16.2, -5.5) ccw construction
  line L54 (-16.2, -6) -> (-17, -6) construction
  arc A58 (-17, -6) -> (-18, -7) centre (-17, -7) ccw construction
  arc A59 (-18, -7) -> (-15, -10) centre (-15, -7) ccw construction
  line L55 (-15, -10) -> (-12.9497, -10) construction
  arc A60 (-12.9497, -10) -> (-11.5355, -9.4142) centre (-12.9497, -8) ccw construction
  line L56 (-11.5355, -9.4142) -> (-8.0858, -5.9645) construction
  arc A61 (-8.0858, -5.9645) -> (-7.5, -4.5503) centre (-9.5, -4.5503) ccw construction
  line L57 (-7.5, -4.5503) -> (-7.5, 4.5503) construction
  arc A62 (-7.5, 4.5503) -> (-8.0858, 5.9645) centre (-9.5, 4.5503) ccw construction
  line L58 (-8.0858, 5.9645) -> (-11.5355, 9.4142) construction
  arc A63 (-11.5355, 9.4142) -> (-12.9497, 10) centre (-12.9497, 8) ccw construction
  line L59 (-12.9497, 10) -> (-15, 10) construction
  arc A64 (-15, 10) -> (-18, 7) centre (-15, 7) ccw construction
  arc A65 (-18, 7) -> (-17, 6) centre (-17, 7) ccw construction
  line L60 (-17, 6) -> (-16.2, 6) construction
  arc A66 (-15.7, 5.5) -> (-16.2, 6) centre (-16.2, 5.5) ccw construction
  line L61 (-15.7, 5.5) -> (-15.7, 4.5) construction
  arc A67 (-16.2, 4) -> (-15.7, 4.5) centre (-16.2, 4.5) ccw construction
  line L62 (-16.2, 4) -> (-19, 4) construction
  arc A68 (-20, 5) -> (-19, 4) centre (-19, 5) ccw construction
  line L63 (-20, 5) -> (-20, 17) construction
  arc A69 (-17, 20) -> (-20, 17) centre (-17, 17) ccw construction
  line L64 (-17, 20) -> (-5, 20) construction
  arc A70 (-4, 19) -> (-5, 20) centre (-5, 19) ccw construction
  line L65 (-4, 19) -> (-4, 16.2) construction
  arc A71 (-4.5, 15.7) -> (-4, 16.2) centre (-4.5, 16.2) ccw construction
  line L66 (-4.5, 15.7) -> (-5.5, 15.7) construction
  arc A72 (-6, 16.2) -> (-5.5, 15.7) centre (-5.5, 16.2) ccw construction
  line L67 (-6, 16.2) -> (-6, 17) construction
  line L68 (-9.5, 20) -> (12.6978, 20)
  line L69 (12.6978, 20) -> (12.6978, 18)
  line L70 (12.6978, 18) -> (-9.5, 18)
  line L71 (-9.5, 18) -> (-9.5, 20)
extrude "Extrusion4" add sketch "Sketch4" against normal blind 800
properties part number "P100" material "Aluminium"
